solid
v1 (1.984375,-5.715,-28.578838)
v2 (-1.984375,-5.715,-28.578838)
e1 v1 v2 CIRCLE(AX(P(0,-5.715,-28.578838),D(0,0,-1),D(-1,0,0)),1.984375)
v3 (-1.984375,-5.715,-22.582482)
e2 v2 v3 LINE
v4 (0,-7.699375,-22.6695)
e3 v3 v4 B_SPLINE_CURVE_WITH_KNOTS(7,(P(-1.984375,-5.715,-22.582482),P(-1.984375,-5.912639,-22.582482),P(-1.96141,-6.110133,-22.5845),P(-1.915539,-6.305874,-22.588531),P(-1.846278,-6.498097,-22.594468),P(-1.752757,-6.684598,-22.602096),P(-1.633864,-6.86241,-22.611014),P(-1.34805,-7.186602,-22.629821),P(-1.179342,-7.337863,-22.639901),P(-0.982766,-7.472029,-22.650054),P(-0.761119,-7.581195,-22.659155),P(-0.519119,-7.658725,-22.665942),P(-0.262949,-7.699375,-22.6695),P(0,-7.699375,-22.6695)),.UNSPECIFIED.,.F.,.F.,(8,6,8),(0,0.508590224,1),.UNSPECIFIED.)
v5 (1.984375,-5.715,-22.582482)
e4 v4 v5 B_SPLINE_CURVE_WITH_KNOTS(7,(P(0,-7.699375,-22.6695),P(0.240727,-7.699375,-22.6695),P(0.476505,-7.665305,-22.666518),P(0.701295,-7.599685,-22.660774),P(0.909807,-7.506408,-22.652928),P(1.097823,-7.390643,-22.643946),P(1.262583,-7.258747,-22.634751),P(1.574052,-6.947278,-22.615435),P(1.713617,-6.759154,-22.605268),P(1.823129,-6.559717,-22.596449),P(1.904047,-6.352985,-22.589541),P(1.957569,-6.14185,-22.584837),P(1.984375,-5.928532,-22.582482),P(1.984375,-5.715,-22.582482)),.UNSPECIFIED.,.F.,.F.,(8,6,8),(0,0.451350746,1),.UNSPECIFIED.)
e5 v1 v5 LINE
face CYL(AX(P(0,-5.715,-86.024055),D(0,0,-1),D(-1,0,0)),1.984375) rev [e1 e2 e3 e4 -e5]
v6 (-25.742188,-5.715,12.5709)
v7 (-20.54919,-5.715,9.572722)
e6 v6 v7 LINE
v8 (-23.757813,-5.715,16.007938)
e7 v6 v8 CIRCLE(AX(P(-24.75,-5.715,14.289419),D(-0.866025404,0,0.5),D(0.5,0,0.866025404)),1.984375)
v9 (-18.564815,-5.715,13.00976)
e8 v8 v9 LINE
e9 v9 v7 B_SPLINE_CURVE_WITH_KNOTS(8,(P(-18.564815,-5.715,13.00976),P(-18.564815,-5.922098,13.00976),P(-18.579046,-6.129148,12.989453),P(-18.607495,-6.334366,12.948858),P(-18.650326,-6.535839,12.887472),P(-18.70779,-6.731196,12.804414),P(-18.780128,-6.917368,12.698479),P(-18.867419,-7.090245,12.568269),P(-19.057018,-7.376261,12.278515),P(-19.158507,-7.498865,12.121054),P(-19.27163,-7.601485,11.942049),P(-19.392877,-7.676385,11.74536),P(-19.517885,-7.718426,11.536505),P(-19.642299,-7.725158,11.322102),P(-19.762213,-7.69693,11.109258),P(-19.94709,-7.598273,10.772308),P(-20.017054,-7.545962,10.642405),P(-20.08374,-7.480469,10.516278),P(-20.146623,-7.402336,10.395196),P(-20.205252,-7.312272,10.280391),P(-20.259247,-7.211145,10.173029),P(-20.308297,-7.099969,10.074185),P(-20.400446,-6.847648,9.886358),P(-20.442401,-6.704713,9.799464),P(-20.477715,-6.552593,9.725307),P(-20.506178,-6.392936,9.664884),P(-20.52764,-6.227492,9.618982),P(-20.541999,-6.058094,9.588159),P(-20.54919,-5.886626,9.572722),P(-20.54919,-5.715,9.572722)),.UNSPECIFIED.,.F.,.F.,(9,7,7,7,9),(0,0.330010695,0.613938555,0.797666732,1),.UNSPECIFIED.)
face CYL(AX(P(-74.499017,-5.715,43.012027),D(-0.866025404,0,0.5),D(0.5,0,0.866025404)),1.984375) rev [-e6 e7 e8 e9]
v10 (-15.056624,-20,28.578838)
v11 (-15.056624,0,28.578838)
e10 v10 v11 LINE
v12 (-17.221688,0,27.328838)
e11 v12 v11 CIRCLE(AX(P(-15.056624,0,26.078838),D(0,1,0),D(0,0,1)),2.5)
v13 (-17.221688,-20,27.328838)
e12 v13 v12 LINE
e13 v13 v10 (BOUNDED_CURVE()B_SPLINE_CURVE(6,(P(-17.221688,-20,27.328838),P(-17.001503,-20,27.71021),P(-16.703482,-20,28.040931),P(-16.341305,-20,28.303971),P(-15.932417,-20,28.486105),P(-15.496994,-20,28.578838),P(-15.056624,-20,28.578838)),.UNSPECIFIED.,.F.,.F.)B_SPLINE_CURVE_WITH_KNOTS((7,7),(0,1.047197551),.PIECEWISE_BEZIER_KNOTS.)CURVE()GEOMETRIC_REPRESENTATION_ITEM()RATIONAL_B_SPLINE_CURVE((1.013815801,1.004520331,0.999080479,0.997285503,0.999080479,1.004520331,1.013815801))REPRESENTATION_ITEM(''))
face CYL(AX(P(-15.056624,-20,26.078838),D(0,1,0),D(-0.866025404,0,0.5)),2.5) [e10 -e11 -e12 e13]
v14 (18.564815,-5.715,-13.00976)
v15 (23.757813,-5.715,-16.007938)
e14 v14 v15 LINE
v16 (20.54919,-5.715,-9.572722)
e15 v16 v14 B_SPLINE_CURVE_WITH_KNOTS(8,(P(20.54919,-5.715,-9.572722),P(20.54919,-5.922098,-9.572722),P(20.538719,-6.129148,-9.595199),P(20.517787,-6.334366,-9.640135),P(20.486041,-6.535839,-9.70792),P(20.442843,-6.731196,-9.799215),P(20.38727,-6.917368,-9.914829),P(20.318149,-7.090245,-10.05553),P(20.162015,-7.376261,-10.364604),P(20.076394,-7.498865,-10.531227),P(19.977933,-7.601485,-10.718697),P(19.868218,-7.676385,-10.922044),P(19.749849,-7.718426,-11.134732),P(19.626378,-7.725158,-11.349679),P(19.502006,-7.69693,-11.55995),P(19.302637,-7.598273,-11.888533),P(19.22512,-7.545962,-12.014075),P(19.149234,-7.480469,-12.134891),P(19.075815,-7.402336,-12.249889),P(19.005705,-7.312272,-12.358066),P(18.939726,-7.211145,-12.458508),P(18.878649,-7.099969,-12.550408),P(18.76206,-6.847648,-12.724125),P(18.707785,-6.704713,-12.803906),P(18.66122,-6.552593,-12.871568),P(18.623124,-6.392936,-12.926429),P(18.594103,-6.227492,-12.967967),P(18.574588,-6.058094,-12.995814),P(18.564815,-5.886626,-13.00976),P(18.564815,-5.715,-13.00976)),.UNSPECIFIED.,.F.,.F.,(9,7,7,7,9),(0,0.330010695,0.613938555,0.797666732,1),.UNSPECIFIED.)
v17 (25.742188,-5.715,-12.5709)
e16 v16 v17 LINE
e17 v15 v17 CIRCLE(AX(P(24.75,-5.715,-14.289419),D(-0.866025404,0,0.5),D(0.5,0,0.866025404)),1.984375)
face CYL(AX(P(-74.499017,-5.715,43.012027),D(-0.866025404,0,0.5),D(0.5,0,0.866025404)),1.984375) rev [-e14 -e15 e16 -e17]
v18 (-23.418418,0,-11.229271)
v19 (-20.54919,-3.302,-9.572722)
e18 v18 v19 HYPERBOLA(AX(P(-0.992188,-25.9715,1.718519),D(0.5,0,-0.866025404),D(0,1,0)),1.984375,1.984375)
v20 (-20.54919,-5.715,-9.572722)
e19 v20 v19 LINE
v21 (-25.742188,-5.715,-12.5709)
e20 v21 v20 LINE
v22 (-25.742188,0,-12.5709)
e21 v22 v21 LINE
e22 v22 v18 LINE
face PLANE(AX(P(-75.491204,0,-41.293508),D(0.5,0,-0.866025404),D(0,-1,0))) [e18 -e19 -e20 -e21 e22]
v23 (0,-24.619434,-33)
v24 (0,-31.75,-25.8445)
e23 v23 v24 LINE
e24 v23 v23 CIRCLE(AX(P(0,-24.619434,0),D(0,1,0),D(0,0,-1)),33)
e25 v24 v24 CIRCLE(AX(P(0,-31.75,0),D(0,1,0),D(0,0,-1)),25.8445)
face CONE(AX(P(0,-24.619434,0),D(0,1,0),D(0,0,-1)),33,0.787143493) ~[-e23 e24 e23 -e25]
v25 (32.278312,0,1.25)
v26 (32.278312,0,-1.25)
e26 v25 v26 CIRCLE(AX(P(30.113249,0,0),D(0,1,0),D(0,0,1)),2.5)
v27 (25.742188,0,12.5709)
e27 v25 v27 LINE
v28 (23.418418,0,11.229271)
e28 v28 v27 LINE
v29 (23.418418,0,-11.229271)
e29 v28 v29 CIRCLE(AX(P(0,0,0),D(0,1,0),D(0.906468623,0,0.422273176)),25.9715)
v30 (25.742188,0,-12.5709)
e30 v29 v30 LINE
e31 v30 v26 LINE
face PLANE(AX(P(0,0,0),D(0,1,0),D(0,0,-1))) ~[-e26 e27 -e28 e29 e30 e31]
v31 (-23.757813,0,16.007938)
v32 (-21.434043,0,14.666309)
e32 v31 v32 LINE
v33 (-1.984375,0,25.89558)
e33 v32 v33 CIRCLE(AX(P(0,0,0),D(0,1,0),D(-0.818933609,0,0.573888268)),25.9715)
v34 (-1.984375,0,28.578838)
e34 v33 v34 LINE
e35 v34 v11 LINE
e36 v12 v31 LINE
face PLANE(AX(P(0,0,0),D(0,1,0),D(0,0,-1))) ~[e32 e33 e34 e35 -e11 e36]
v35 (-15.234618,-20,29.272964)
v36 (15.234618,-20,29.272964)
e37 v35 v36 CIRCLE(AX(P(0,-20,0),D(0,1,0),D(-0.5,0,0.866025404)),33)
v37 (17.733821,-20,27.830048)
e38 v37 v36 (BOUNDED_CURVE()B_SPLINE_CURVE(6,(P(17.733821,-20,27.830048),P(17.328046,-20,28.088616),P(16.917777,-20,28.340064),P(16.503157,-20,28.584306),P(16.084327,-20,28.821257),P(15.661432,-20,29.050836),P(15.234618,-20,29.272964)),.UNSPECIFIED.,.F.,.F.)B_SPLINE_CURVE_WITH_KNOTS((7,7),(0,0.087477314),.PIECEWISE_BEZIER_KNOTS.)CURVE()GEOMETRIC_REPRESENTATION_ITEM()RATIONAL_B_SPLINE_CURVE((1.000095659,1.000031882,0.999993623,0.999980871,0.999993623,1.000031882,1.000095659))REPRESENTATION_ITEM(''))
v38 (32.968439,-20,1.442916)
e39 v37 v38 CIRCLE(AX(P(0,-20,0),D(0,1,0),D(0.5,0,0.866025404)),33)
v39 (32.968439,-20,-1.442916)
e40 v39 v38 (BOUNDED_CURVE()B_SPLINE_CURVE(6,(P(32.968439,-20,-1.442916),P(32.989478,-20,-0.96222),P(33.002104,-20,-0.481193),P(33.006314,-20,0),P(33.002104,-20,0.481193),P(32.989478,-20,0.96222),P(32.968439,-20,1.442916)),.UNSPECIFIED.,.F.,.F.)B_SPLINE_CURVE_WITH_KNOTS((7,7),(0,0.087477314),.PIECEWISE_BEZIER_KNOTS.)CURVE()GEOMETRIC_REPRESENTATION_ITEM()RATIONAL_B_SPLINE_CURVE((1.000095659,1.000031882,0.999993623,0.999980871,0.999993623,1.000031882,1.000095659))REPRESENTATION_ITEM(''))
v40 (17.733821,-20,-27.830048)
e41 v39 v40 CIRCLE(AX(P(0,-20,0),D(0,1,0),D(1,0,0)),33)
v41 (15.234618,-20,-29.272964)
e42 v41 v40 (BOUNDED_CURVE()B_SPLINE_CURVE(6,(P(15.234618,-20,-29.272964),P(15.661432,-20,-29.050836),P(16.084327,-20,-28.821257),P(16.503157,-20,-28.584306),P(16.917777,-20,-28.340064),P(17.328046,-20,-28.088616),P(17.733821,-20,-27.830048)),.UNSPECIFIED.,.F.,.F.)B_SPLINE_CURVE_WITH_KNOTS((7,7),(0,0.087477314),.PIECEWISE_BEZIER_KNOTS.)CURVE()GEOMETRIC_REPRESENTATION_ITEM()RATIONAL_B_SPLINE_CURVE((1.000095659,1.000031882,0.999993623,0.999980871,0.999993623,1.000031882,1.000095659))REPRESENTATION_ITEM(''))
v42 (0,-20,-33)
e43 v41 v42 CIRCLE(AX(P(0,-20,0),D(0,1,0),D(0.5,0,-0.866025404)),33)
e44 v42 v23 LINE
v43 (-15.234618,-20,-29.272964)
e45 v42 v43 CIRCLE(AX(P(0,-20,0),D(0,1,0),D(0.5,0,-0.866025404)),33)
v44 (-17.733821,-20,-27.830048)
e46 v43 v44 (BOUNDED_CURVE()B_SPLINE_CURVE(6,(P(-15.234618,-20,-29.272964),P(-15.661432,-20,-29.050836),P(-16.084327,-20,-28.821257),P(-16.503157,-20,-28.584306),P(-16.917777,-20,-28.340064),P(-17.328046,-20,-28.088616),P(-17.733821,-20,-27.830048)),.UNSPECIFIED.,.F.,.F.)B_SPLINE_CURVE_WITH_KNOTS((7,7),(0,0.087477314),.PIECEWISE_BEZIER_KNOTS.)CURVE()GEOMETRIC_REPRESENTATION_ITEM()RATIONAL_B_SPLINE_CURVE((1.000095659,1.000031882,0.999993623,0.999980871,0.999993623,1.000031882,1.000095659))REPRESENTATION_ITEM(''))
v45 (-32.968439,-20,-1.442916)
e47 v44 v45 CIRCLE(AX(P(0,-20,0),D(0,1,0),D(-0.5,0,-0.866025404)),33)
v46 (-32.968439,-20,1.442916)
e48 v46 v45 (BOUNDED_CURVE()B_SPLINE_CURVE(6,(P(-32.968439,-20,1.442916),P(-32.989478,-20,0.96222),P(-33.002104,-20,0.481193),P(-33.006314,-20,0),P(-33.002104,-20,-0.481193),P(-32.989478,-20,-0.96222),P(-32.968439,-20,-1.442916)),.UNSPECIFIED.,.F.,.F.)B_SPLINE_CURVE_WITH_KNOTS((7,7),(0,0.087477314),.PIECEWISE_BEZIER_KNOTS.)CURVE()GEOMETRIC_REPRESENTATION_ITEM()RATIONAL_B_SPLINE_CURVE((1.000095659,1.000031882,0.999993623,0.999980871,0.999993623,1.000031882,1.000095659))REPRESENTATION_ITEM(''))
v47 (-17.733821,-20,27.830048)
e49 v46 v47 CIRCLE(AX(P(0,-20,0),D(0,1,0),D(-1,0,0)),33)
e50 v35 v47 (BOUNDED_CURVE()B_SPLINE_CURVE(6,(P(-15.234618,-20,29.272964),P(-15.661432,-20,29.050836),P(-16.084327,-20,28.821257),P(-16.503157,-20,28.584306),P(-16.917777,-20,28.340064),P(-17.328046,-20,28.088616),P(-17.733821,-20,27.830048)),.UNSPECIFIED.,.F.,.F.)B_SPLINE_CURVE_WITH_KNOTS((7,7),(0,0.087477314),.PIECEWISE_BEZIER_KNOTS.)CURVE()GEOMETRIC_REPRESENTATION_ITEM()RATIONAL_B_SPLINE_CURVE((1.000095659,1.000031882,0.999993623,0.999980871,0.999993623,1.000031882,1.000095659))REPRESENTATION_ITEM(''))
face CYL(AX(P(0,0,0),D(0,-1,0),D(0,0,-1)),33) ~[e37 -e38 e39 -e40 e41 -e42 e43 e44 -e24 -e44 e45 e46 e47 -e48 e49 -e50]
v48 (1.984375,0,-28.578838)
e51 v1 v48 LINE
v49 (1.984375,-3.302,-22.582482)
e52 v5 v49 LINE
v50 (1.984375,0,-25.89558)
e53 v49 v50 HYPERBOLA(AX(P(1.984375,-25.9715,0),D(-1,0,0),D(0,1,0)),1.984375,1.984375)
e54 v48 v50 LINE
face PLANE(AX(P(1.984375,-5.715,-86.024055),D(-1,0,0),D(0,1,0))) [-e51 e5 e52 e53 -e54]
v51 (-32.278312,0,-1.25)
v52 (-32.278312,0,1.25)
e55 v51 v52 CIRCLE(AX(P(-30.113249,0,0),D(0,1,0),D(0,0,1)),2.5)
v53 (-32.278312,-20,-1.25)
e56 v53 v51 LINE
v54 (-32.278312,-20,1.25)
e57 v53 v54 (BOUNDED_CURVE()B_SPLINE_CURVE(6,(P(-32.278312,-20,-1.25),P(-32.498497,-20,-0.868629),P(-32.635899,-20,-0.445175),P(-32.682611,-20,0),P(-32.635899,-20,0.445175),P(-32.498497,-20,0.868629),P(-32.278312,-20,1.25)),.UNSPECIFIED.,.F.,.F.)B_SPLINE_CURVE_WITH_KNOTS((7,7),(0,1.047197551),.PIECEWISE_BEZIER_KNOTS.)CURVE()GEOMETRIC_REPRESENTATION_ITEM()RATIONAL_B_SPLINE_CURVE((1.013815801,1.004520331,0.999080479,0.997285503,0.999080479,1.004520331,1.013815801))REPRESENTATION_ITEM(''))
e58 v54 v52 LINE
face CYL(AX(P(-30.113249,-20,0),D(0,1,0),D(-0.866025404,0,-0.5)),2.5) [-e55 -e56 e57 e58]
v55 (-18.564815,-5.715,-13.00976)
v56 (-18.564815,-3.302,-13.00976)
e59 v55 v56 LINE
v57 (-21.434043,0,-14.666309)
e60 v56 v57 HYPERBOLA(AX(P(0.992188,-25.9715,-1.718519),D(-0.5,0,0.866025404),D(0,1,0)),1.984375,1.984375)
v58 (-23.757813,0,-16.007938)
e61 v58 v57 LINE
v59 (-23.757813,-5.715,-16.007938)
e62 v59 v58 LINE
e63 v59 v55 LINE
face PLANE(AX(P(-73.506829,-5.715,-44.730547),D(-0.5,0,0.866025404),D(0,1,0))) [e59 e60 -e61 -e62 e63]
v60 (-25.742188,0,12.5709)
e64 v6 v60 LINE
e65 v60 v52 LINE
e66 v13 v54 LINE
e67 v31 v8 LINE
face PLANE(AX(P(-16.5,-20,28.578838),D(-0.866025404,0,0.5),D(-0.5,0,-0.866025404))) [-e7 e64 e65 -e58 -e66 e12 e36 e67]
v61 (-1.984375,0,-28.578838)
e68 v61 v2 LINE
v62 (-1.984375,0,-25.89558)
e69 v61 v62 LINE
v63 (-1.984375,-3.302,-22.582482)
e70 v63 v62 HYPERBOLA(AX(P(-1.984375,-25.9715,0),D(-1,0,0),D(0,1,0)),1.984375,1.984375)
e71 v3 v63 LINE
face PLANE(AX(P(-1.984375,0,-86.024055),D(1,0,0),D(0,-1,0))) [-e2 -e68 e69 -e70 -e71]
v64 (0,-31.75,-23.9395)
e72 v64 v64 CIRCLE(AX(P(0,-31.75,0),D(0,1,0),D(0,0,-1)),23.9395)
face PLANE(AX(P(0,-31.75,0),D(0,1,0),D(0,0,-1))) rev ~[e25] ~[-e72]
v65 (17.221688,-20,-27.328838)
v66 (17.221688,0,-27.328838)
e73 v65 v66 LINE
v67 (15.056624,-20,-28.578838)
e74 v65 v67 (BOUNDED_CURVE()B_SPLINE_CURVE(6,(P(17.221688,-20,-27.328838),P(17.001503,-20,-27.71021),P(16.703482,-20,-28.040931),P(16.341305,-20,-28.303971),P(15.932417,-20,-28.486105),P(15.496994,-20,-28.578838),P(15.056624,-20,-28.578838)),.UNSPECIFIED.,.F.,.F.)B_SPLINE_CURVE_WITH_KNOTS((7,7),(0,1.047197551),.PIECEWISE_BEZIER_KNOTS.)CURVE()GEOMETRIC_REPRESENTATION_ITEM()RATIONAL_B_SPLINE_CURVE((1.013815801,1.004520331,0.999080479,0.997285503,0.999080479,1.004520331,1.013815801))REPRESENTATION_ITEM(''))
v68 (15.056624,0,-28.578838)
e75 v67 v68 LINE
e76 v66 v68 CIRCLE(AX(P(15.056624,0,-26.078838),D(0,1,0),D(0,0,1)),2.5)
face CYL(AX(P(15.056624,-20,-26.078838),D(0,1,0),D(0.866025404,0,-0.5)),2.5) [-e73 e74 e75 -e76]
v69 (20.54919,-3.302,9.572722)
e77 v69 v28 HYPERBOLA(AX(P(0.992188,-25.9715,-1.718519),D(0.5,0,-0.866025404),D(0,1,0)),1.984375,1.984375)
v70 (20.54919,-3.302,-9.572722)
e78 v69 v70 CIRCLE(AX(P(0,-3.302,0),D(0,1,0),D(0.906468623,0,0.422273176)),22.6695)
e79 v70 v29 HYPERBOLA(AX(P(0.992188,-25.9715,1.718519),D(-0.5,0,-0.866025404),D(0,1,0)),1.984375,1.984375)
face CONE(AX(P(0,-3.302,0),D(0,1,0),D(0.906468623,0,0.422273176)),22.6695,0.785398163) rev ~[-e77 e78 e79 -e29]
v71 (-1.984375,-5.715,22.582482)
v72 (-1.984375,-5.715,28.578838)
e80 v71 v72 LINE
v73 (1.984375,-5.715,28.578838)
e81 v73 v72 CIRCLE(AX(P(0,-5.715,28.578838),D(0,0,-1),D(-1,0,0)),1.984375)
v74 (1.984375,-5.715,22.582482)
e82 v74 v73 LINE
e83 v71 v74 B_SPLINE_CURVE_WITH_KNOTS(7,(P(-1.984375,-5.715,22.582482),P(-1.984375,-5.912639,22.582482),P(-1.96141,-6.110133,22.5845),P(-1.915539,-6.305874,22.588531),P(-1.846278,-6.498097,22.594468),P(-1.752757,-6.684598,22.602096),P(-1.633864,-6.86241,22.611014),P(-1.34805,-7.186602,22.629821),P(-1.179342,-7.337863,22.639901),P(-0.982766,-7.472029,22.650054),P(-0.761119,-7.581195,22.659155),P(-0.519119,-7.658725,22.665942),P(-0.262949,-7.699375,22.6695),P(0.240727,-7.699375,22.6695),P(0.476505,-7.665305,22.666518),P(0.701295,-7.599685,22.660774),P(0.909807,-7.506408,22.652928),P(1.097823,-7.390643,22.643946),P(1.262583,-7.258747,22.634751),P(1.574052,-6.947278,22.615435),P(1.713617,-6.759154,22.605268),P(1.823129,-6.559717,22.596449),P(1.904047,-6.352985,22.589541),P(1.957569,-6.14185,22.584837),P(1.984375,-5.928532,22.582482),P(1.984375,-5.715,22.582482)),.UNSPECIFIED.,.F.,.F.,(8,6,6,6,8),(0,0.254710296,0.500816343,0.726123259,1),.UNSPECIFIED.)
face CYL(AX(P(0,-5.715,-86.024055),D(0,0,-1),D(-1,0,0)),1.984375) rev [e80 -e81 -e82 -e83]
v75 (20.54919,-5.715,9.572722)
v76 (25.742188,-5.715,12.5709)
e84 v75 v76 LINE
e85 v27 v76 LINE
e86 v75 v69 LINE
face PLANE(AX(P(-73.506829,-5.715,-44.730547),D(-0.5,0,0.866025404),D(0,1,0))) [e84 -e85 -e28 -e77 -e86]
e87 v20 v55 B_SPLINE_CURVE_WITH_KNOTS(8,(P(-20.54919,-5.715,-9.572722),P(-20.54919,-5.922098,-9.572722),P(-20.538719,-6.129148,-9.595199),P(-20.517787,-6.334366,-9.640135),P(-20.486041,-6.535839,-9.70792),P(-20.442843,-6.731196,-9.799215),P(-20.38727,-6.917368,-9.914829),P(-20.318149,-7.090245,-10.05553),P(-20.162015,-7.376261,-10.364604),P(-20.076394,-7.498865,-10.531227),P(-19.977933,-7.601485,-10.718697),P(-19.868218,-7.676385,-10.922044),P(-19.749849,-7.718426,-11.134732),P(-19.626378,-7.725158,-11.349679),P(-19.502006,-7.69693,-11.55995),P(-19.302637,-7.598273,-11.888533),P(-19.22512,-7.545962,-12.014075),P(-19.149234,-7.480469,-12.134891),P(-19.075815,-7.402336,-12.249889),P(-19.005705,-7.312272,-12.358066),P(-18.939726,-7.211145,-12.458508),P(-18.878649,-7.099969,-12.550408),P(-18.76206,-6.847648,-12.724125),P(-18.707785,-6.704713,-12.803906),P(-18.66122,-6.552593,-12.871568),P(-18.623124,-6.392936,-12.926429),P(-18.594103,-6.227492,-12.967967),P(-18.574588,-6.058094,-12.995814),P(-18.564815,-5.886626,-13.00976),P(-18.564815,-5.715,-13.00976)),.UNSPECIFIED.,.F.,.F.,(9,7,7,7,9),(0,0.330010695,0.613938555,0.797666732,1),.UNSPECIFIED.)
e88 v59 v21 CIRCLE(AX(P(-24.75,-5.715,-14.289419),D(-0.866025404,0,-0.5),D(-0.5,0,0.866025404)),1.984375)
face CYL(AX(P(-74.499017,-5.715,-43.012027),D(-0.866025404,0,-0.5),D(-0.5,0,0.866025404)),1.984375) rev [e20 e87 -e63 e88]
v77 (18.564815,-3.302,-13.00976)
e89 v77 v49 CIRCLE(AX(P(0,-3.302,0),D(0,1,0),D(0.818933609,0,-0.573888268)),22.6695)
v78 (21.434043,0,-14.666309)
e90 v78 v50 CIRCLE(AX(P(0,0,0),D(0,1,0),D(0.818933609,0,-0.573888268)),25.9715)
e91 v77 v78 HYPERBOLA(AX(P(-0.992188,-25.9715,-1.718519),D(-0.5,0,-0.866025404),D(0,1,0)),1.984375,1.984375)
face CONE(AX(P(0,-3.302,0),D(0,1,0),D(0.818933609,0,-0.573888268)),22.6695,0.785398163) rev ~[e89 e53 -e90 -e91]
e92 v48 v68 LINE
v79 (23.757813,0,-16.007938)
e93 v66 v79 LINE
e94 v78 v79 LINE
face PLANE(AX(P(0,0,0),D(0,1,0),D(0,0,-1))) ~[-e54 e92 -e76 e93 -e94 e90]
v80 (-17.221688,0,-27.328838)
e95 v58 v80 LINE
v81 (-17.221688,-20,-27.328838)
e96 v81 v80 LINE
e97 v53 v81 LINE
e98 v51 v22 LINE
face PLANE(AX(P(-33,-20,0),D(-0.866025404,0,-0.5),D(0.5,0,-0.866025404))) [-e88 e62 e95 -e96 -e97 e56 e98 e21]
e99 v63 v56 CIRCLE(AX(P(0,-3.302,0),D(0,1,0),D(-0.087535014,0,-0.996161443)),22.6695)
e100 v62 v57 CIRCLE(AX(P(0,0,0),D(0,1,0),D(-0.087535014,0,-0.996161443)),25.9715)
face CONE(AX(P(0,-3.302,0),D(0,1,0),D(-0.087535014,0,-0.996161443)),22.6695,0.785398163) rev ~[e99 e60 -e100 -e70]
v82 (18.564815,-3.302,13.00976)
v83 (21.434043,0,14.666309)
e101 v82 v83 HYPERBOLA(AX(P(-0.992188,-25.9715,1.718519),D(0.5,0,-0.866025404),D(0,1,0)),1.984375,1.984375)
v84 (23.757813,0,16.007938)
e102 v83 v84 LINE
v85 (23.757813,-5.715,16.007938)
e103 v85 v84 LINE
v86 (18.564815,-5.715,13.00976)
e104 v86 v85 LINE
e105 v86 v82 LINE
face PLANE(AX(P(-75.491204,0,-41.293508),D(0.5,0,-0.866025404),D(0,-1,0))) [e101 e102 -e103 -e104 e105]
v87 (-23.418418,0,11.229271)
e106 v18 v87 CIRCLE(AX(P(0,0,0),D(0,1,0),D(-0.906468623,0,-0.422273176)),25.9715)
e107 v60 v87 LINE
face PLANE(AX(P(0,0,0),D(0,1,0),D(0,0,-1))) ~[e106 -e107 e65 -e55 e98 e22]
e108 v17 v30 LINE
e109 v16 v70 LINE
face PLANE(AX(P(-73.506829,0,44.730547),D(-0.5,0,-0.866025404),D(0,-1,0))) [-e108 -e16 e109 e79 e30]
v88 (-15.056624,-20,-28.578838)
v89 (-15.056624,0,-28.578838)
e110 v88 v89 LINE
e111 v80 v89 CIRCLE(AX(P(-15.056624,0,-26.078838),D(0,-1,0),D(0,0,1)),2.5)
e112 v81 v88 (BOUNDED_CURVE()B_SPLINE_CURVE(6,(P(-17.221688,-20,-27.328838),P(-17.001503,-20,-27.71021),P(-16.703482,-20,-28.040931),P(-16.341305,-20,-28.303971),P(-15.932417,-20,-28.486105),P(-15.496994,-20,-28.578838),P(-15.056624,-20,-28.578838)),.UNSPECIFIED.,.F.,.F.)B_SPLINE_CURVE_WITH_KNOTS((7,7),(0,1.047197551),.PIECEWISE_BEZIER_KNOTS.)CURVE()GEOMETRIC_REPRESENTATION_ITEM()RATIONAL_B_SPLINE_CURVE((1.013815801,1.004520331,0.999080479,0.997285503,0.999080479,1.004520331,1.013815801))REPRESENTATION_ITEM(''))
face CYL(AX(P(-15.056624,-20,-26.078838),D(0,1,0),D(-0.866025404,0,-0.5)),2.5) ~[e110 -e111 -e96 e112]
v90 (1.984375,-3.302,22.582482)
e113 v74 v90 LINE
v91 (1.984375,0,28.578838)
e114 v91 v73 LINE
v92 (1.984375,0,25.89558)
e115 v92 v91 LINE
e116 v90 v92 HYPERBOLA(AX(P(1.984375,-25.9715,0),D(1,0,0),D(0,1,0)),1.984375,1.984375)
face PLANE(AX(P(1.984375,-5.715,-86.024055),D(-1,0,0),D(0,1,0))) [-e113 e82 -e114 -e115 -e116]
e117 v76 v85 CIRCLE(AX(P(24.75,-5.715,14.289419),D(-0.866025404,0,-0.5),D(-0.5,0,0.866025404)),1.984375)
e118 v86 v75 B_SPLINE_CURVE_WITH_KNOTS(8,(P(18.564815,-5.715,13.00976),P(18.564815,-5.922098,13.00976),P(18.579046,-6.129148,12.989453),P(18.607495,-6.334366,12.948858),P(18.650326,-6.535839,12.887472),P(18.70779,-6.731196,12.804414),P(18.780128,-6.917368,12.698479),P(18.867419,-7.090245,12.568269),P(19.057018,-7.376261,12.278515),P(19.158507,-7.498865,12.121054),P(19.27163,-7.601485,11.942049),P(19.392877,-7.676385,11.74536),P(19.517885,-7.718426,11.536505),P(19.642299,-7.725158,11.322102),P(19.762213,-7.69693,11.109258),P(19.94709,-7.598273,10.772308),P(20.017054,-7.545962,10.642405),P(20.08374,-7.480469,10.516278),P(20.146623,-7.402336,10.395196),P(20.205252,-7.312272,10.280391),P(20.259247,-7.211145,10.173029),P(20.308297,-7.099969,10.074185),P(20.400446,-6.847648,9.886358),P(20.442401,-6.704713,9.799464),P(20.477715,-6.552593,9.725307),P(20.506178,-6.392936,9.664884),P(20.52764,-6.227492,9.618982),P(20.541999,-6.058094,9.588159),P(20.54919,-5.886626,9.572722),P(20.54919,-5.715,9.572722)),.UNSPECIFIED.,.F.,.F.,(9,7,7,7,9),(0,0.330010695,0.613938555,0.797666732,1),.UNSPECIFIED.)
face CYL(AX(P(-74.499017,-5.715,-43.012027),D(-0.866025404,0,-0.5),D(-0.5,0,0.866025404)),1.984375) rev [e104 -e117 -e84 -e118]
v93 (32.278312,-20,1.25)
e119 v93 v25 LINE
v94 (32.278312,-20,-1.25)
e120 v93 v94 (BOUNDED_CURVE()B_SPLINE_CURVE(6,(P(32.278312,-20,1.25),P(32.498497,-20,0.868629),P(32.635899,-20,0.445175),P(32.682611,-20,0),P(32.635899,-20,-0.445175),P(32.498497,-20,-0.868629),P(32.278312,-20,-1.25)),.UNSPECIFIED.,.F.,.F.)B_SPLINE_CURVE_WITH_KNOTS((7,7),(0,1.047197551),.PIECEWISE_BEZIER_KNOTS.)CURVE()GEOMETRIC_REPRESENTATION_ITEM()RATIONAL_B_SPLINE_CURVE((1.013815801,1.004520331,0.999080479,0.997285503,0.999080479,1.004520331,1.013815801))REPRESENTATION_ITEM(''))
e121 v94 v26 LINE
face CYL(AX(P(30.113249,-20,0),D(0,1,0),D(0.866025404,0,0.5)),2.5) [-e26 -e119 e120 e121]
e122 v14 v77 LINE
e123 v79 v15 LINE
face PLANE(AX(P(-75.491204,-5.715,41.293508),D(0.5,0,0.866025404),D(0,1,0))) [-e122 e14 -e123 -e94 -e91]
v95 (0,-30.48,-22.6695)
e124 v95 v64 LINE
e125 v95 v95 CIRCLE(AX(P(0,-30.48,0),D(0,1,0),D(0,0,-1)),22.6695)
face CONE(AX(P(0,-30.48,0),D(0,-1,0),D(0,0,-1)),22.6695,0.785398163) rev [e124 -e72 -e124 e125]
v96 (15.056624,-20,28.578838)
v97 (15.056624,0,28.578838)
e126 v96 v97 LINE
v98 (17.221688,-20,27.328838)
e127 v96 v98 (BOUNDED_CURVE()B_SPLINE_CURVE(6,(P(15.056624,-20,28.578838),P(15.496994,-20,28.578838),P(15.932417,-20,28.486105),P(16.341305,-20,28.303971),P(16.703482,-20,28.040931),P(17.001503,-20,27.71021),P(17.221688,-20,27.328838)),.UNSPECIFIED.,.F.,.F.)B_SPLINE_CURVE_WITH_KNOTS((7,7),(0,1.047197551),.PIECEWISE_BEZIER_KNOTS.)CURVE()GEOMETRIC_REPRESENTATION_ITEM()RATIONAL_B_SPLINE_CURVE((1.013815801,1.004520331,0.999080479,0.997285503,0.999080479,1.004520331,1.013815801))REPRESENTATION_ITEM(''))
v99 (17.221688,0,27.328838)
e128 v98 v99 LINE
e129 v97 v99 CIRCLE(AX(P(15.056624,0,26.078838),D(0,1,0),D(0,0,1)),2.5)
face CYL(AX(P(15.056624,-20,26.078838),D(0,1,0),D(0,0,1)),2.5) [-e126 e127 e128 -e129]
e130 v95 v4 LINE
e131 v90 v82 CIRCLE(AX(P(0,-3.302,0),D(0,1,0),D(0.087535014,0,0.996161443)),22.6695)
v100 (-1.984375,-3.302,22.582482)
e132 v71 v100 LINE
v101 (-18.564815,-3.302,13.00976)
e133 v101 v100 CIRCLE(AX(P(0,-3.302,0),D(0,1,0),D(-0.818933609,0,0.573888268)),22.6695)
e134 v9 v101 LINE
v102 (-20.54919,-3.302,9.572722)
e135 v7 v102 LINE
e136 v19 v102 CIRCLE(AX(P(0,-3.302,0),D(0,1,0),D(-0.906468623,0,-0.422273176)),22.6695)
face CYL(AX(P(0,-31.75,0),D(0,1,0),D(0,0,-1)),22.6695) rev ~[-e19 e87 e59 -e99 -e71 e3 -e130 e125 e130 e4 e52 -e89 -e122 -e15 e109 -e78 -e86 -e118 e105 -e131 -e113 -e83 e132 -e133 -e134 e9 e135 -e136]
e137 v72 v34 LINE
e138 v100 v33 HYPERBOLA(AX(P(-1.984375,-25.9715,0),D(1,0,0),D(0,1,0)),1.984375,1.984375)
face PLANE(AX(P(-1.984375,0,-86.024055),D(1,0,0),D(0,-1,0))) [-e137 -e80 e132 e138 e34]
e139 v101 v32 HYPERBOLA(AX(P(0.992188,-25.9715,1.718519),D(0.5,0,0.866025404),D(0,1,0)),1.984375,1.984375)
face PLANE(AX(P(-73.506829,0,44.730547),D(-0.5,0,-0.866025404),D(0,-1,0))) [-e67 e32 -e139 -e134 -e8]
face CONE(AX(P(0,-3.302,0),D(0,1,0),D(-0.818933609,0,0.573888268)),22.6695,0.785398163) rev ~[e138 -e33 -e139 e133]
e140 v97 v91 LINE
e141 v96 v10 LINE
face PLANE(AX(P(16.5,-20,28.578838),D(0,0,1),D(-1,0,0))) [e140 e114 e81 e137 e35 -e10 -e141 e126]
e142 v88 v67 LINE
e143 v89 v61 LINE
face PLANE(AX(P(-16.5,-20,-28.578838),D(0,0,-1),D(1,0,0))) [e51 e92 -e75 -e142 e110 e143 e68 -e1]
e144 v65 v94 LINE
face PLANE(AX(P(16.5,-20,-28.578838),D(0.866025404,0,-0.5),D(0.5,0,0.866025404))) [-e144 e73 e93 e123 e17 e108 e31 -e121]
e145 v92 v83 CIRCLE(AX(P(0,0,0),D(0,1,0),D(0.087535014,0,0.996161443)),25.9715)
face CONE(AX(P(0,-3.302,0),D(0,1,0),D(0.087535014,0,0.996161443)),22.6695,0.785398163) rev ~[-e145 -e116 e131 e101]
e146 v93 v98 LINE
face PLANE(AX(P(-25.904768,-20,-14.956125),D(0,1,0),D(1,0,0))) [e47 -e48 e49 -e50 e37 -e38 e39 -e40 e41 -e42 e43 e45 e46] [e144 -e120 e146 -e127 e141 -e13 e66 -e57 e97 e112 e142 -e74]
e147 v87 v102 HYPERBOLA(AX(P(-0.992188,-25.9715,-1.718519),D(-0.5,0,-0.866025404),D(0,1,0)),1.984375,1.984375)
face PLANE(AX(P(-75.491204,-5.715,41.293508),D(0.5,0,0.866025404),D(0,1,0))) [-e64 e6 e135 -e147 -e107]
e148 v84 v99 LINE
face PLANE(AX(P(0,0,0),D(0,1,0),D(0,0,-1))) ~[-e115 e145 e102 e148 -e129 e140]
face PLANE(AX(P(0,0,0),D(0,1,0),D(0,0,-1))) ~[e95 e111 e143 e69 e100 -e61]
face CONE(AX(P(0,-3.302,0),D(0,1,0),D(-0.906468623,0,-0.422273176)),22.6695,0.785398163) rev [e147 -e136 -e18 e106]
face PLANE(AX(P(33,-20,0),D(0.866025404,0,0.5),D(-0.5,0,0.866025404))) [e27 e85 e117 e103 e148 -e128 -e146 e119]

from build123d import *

# Parameters (mm, degrees)
CUT_EXTRUDE5_START = -20
CUT_EXTRUDE5_DEPTH = 20
FILLET4_R          = 2.5
CUT_EXTRUDE6_START = -86.02405492
CUT_EXTRUDE6_DEPTH = 143.469271841
CIRPATTERN2_COUNT  = 6
CHAMFER1_SIZE      = 3.302
CHAMFER2_SIZE      = 1.27


with BuildPart() as part:
    # Sketch1 → Revolve1 (revolve)
    with BuildSketch(Plane(origin=(0, 0, 0), x_dir=(0, 0, -1), z_dir=(1, 0, 0)), mode=Mode.PRIVATE) as revolve1_sk:
        Polygon((-22.6695, -31.75), (-22.6695, 0), (-33, 0), (-33, -24.619433914), (-25.8445, -31.75), align=None)
    revolve(revolve1_sk.sketch.rotate(Axis((0, 0, 0), (0, 1, 0)), 180), axis=Axis((0, 0, 0), (0, 1, 0)))

    # Sketch4 → Cut-Extrude5 (cut)
    with BuildSketch(Plane(origin=(0, 0, 0), x_dir=(1, 0, 0), z_dir=(0, 1, 0)).offset(CUT_EXTRUDE5_START)):
        with BuildLine():
            ThreePointArc((33, 0), (28.578838325, 16.5), (16.5, 28.578838325))
            Line((16.5, 28.578838325), (33, 0))
        make_face()
        with BuildLine():
            Line((-16.5, 28.578838325), (16.5, 28.578838325))
            ThreePointArc((16.5, 28.578838325), (0, 33), (-16.5, 28.578838325))
        make_face()
        with BuildLine():
            Line((-33, 0), (-16.5, 28.578838325))
            ThreePointArc((-16.5, 28.578838325), (-28.578838325, 16.5), (-33, 0))
        make_face()
        with BuildLine():
            ThreePointArc((16.5, -28.578838325), (28.578838325, -16.5), (33, 0))
            Line((33, 0), (16.5, -28.578838325))
        make_face()
        with BuildLine():
            Line((-16.5, -28.578838325), (-33, 0))
            ThreePointArc((-33, 0), (-28.578838325, -16.5), (-16.5, -28.578838325))
        make_face()
        with BuildLine():
            ThreePointArc((-16.5, -28.578838325), (0, -33), (16.5, -28.578838325))
            Line((16.5, -28.578838325), (-16.5, -28.578838325))
        make_face()
    extrude(amount=CUT_EXTRUDE5_DEPTH, mode=Mode.SUBTRACT)

    # Fillet4
    fillet4_edges = [part.edges().sort_by_distance(p)[0] for p in [
        (33, -10, 0),
        (16.5, -10, -28.578838325),
        (-33, -10, 0),
        (16.5, -10, 28.578838325),
        (-16.5, -10, -28.578838325),
        (-16.5, -10, 28.578838325),
    ]]
    fillet(fillet4_edges, radius=FILLET4_R)

    # Sketch7 → Cut-Extrude6 (cut)
    with BuildSketch(Plane.XY.offset(CUT_EXTRUDE6_START)):
        with BuildLine():
            Line((-1.984375, 0), (-1.984375, -5.715))
            ThreePointArc((-1.984375, -5.715), (0, -7.699375), (1.984375, -5.715))
            Line((1.984375, -5.715), (1.984375, 0))
            Line((1.984375, 0), (0, 0))
            Line((0, 0), (-1.984375, 0))
        make_face()
    cut_extrude6 = extrude(amount=CUT_EXTRUDE6_DEPTH, mode=Mode.SUBTRACT)

    # CirPattern2: Cut-Extrude6 ×6 about axis
    cirpattern2_axis = Axis((0, 0, 0), (0, 1, 0))
    for i in range(1, CIRPATTERN2_COUNT):
        add(cut_extrude6.rotate(cirpattern2_axis, i * 360 / CIRPATTERN2_COUNT), mode=Mode.SUBTRACT)

    # Chamfer1
    chamfer1_edges = [part.edges().sort_by_distance(p)[0] for p in [
        (-11.33475, 0, 19.632362891),
        (-22.6695, 0, 0),
        (-11.33475, 0, -19.632362891),
        (22.6695, 0, 0),
        (11.33475, 0, 19.632362891),
        (11.33475, 0, -19.632362891),
    ]]
    chamfer(chamfer1_edges, length=CHAMFER1_SIZE)

    # Chamfer2
    chamfer2_edges = [part.edges().sort_by_distance(p)[0] for p in [
        (0, -31.75, 22.6695),
    ]]
    chamfer(chamfer2_edges, length=CHAMFER2_SIZE)


solid = part.part
